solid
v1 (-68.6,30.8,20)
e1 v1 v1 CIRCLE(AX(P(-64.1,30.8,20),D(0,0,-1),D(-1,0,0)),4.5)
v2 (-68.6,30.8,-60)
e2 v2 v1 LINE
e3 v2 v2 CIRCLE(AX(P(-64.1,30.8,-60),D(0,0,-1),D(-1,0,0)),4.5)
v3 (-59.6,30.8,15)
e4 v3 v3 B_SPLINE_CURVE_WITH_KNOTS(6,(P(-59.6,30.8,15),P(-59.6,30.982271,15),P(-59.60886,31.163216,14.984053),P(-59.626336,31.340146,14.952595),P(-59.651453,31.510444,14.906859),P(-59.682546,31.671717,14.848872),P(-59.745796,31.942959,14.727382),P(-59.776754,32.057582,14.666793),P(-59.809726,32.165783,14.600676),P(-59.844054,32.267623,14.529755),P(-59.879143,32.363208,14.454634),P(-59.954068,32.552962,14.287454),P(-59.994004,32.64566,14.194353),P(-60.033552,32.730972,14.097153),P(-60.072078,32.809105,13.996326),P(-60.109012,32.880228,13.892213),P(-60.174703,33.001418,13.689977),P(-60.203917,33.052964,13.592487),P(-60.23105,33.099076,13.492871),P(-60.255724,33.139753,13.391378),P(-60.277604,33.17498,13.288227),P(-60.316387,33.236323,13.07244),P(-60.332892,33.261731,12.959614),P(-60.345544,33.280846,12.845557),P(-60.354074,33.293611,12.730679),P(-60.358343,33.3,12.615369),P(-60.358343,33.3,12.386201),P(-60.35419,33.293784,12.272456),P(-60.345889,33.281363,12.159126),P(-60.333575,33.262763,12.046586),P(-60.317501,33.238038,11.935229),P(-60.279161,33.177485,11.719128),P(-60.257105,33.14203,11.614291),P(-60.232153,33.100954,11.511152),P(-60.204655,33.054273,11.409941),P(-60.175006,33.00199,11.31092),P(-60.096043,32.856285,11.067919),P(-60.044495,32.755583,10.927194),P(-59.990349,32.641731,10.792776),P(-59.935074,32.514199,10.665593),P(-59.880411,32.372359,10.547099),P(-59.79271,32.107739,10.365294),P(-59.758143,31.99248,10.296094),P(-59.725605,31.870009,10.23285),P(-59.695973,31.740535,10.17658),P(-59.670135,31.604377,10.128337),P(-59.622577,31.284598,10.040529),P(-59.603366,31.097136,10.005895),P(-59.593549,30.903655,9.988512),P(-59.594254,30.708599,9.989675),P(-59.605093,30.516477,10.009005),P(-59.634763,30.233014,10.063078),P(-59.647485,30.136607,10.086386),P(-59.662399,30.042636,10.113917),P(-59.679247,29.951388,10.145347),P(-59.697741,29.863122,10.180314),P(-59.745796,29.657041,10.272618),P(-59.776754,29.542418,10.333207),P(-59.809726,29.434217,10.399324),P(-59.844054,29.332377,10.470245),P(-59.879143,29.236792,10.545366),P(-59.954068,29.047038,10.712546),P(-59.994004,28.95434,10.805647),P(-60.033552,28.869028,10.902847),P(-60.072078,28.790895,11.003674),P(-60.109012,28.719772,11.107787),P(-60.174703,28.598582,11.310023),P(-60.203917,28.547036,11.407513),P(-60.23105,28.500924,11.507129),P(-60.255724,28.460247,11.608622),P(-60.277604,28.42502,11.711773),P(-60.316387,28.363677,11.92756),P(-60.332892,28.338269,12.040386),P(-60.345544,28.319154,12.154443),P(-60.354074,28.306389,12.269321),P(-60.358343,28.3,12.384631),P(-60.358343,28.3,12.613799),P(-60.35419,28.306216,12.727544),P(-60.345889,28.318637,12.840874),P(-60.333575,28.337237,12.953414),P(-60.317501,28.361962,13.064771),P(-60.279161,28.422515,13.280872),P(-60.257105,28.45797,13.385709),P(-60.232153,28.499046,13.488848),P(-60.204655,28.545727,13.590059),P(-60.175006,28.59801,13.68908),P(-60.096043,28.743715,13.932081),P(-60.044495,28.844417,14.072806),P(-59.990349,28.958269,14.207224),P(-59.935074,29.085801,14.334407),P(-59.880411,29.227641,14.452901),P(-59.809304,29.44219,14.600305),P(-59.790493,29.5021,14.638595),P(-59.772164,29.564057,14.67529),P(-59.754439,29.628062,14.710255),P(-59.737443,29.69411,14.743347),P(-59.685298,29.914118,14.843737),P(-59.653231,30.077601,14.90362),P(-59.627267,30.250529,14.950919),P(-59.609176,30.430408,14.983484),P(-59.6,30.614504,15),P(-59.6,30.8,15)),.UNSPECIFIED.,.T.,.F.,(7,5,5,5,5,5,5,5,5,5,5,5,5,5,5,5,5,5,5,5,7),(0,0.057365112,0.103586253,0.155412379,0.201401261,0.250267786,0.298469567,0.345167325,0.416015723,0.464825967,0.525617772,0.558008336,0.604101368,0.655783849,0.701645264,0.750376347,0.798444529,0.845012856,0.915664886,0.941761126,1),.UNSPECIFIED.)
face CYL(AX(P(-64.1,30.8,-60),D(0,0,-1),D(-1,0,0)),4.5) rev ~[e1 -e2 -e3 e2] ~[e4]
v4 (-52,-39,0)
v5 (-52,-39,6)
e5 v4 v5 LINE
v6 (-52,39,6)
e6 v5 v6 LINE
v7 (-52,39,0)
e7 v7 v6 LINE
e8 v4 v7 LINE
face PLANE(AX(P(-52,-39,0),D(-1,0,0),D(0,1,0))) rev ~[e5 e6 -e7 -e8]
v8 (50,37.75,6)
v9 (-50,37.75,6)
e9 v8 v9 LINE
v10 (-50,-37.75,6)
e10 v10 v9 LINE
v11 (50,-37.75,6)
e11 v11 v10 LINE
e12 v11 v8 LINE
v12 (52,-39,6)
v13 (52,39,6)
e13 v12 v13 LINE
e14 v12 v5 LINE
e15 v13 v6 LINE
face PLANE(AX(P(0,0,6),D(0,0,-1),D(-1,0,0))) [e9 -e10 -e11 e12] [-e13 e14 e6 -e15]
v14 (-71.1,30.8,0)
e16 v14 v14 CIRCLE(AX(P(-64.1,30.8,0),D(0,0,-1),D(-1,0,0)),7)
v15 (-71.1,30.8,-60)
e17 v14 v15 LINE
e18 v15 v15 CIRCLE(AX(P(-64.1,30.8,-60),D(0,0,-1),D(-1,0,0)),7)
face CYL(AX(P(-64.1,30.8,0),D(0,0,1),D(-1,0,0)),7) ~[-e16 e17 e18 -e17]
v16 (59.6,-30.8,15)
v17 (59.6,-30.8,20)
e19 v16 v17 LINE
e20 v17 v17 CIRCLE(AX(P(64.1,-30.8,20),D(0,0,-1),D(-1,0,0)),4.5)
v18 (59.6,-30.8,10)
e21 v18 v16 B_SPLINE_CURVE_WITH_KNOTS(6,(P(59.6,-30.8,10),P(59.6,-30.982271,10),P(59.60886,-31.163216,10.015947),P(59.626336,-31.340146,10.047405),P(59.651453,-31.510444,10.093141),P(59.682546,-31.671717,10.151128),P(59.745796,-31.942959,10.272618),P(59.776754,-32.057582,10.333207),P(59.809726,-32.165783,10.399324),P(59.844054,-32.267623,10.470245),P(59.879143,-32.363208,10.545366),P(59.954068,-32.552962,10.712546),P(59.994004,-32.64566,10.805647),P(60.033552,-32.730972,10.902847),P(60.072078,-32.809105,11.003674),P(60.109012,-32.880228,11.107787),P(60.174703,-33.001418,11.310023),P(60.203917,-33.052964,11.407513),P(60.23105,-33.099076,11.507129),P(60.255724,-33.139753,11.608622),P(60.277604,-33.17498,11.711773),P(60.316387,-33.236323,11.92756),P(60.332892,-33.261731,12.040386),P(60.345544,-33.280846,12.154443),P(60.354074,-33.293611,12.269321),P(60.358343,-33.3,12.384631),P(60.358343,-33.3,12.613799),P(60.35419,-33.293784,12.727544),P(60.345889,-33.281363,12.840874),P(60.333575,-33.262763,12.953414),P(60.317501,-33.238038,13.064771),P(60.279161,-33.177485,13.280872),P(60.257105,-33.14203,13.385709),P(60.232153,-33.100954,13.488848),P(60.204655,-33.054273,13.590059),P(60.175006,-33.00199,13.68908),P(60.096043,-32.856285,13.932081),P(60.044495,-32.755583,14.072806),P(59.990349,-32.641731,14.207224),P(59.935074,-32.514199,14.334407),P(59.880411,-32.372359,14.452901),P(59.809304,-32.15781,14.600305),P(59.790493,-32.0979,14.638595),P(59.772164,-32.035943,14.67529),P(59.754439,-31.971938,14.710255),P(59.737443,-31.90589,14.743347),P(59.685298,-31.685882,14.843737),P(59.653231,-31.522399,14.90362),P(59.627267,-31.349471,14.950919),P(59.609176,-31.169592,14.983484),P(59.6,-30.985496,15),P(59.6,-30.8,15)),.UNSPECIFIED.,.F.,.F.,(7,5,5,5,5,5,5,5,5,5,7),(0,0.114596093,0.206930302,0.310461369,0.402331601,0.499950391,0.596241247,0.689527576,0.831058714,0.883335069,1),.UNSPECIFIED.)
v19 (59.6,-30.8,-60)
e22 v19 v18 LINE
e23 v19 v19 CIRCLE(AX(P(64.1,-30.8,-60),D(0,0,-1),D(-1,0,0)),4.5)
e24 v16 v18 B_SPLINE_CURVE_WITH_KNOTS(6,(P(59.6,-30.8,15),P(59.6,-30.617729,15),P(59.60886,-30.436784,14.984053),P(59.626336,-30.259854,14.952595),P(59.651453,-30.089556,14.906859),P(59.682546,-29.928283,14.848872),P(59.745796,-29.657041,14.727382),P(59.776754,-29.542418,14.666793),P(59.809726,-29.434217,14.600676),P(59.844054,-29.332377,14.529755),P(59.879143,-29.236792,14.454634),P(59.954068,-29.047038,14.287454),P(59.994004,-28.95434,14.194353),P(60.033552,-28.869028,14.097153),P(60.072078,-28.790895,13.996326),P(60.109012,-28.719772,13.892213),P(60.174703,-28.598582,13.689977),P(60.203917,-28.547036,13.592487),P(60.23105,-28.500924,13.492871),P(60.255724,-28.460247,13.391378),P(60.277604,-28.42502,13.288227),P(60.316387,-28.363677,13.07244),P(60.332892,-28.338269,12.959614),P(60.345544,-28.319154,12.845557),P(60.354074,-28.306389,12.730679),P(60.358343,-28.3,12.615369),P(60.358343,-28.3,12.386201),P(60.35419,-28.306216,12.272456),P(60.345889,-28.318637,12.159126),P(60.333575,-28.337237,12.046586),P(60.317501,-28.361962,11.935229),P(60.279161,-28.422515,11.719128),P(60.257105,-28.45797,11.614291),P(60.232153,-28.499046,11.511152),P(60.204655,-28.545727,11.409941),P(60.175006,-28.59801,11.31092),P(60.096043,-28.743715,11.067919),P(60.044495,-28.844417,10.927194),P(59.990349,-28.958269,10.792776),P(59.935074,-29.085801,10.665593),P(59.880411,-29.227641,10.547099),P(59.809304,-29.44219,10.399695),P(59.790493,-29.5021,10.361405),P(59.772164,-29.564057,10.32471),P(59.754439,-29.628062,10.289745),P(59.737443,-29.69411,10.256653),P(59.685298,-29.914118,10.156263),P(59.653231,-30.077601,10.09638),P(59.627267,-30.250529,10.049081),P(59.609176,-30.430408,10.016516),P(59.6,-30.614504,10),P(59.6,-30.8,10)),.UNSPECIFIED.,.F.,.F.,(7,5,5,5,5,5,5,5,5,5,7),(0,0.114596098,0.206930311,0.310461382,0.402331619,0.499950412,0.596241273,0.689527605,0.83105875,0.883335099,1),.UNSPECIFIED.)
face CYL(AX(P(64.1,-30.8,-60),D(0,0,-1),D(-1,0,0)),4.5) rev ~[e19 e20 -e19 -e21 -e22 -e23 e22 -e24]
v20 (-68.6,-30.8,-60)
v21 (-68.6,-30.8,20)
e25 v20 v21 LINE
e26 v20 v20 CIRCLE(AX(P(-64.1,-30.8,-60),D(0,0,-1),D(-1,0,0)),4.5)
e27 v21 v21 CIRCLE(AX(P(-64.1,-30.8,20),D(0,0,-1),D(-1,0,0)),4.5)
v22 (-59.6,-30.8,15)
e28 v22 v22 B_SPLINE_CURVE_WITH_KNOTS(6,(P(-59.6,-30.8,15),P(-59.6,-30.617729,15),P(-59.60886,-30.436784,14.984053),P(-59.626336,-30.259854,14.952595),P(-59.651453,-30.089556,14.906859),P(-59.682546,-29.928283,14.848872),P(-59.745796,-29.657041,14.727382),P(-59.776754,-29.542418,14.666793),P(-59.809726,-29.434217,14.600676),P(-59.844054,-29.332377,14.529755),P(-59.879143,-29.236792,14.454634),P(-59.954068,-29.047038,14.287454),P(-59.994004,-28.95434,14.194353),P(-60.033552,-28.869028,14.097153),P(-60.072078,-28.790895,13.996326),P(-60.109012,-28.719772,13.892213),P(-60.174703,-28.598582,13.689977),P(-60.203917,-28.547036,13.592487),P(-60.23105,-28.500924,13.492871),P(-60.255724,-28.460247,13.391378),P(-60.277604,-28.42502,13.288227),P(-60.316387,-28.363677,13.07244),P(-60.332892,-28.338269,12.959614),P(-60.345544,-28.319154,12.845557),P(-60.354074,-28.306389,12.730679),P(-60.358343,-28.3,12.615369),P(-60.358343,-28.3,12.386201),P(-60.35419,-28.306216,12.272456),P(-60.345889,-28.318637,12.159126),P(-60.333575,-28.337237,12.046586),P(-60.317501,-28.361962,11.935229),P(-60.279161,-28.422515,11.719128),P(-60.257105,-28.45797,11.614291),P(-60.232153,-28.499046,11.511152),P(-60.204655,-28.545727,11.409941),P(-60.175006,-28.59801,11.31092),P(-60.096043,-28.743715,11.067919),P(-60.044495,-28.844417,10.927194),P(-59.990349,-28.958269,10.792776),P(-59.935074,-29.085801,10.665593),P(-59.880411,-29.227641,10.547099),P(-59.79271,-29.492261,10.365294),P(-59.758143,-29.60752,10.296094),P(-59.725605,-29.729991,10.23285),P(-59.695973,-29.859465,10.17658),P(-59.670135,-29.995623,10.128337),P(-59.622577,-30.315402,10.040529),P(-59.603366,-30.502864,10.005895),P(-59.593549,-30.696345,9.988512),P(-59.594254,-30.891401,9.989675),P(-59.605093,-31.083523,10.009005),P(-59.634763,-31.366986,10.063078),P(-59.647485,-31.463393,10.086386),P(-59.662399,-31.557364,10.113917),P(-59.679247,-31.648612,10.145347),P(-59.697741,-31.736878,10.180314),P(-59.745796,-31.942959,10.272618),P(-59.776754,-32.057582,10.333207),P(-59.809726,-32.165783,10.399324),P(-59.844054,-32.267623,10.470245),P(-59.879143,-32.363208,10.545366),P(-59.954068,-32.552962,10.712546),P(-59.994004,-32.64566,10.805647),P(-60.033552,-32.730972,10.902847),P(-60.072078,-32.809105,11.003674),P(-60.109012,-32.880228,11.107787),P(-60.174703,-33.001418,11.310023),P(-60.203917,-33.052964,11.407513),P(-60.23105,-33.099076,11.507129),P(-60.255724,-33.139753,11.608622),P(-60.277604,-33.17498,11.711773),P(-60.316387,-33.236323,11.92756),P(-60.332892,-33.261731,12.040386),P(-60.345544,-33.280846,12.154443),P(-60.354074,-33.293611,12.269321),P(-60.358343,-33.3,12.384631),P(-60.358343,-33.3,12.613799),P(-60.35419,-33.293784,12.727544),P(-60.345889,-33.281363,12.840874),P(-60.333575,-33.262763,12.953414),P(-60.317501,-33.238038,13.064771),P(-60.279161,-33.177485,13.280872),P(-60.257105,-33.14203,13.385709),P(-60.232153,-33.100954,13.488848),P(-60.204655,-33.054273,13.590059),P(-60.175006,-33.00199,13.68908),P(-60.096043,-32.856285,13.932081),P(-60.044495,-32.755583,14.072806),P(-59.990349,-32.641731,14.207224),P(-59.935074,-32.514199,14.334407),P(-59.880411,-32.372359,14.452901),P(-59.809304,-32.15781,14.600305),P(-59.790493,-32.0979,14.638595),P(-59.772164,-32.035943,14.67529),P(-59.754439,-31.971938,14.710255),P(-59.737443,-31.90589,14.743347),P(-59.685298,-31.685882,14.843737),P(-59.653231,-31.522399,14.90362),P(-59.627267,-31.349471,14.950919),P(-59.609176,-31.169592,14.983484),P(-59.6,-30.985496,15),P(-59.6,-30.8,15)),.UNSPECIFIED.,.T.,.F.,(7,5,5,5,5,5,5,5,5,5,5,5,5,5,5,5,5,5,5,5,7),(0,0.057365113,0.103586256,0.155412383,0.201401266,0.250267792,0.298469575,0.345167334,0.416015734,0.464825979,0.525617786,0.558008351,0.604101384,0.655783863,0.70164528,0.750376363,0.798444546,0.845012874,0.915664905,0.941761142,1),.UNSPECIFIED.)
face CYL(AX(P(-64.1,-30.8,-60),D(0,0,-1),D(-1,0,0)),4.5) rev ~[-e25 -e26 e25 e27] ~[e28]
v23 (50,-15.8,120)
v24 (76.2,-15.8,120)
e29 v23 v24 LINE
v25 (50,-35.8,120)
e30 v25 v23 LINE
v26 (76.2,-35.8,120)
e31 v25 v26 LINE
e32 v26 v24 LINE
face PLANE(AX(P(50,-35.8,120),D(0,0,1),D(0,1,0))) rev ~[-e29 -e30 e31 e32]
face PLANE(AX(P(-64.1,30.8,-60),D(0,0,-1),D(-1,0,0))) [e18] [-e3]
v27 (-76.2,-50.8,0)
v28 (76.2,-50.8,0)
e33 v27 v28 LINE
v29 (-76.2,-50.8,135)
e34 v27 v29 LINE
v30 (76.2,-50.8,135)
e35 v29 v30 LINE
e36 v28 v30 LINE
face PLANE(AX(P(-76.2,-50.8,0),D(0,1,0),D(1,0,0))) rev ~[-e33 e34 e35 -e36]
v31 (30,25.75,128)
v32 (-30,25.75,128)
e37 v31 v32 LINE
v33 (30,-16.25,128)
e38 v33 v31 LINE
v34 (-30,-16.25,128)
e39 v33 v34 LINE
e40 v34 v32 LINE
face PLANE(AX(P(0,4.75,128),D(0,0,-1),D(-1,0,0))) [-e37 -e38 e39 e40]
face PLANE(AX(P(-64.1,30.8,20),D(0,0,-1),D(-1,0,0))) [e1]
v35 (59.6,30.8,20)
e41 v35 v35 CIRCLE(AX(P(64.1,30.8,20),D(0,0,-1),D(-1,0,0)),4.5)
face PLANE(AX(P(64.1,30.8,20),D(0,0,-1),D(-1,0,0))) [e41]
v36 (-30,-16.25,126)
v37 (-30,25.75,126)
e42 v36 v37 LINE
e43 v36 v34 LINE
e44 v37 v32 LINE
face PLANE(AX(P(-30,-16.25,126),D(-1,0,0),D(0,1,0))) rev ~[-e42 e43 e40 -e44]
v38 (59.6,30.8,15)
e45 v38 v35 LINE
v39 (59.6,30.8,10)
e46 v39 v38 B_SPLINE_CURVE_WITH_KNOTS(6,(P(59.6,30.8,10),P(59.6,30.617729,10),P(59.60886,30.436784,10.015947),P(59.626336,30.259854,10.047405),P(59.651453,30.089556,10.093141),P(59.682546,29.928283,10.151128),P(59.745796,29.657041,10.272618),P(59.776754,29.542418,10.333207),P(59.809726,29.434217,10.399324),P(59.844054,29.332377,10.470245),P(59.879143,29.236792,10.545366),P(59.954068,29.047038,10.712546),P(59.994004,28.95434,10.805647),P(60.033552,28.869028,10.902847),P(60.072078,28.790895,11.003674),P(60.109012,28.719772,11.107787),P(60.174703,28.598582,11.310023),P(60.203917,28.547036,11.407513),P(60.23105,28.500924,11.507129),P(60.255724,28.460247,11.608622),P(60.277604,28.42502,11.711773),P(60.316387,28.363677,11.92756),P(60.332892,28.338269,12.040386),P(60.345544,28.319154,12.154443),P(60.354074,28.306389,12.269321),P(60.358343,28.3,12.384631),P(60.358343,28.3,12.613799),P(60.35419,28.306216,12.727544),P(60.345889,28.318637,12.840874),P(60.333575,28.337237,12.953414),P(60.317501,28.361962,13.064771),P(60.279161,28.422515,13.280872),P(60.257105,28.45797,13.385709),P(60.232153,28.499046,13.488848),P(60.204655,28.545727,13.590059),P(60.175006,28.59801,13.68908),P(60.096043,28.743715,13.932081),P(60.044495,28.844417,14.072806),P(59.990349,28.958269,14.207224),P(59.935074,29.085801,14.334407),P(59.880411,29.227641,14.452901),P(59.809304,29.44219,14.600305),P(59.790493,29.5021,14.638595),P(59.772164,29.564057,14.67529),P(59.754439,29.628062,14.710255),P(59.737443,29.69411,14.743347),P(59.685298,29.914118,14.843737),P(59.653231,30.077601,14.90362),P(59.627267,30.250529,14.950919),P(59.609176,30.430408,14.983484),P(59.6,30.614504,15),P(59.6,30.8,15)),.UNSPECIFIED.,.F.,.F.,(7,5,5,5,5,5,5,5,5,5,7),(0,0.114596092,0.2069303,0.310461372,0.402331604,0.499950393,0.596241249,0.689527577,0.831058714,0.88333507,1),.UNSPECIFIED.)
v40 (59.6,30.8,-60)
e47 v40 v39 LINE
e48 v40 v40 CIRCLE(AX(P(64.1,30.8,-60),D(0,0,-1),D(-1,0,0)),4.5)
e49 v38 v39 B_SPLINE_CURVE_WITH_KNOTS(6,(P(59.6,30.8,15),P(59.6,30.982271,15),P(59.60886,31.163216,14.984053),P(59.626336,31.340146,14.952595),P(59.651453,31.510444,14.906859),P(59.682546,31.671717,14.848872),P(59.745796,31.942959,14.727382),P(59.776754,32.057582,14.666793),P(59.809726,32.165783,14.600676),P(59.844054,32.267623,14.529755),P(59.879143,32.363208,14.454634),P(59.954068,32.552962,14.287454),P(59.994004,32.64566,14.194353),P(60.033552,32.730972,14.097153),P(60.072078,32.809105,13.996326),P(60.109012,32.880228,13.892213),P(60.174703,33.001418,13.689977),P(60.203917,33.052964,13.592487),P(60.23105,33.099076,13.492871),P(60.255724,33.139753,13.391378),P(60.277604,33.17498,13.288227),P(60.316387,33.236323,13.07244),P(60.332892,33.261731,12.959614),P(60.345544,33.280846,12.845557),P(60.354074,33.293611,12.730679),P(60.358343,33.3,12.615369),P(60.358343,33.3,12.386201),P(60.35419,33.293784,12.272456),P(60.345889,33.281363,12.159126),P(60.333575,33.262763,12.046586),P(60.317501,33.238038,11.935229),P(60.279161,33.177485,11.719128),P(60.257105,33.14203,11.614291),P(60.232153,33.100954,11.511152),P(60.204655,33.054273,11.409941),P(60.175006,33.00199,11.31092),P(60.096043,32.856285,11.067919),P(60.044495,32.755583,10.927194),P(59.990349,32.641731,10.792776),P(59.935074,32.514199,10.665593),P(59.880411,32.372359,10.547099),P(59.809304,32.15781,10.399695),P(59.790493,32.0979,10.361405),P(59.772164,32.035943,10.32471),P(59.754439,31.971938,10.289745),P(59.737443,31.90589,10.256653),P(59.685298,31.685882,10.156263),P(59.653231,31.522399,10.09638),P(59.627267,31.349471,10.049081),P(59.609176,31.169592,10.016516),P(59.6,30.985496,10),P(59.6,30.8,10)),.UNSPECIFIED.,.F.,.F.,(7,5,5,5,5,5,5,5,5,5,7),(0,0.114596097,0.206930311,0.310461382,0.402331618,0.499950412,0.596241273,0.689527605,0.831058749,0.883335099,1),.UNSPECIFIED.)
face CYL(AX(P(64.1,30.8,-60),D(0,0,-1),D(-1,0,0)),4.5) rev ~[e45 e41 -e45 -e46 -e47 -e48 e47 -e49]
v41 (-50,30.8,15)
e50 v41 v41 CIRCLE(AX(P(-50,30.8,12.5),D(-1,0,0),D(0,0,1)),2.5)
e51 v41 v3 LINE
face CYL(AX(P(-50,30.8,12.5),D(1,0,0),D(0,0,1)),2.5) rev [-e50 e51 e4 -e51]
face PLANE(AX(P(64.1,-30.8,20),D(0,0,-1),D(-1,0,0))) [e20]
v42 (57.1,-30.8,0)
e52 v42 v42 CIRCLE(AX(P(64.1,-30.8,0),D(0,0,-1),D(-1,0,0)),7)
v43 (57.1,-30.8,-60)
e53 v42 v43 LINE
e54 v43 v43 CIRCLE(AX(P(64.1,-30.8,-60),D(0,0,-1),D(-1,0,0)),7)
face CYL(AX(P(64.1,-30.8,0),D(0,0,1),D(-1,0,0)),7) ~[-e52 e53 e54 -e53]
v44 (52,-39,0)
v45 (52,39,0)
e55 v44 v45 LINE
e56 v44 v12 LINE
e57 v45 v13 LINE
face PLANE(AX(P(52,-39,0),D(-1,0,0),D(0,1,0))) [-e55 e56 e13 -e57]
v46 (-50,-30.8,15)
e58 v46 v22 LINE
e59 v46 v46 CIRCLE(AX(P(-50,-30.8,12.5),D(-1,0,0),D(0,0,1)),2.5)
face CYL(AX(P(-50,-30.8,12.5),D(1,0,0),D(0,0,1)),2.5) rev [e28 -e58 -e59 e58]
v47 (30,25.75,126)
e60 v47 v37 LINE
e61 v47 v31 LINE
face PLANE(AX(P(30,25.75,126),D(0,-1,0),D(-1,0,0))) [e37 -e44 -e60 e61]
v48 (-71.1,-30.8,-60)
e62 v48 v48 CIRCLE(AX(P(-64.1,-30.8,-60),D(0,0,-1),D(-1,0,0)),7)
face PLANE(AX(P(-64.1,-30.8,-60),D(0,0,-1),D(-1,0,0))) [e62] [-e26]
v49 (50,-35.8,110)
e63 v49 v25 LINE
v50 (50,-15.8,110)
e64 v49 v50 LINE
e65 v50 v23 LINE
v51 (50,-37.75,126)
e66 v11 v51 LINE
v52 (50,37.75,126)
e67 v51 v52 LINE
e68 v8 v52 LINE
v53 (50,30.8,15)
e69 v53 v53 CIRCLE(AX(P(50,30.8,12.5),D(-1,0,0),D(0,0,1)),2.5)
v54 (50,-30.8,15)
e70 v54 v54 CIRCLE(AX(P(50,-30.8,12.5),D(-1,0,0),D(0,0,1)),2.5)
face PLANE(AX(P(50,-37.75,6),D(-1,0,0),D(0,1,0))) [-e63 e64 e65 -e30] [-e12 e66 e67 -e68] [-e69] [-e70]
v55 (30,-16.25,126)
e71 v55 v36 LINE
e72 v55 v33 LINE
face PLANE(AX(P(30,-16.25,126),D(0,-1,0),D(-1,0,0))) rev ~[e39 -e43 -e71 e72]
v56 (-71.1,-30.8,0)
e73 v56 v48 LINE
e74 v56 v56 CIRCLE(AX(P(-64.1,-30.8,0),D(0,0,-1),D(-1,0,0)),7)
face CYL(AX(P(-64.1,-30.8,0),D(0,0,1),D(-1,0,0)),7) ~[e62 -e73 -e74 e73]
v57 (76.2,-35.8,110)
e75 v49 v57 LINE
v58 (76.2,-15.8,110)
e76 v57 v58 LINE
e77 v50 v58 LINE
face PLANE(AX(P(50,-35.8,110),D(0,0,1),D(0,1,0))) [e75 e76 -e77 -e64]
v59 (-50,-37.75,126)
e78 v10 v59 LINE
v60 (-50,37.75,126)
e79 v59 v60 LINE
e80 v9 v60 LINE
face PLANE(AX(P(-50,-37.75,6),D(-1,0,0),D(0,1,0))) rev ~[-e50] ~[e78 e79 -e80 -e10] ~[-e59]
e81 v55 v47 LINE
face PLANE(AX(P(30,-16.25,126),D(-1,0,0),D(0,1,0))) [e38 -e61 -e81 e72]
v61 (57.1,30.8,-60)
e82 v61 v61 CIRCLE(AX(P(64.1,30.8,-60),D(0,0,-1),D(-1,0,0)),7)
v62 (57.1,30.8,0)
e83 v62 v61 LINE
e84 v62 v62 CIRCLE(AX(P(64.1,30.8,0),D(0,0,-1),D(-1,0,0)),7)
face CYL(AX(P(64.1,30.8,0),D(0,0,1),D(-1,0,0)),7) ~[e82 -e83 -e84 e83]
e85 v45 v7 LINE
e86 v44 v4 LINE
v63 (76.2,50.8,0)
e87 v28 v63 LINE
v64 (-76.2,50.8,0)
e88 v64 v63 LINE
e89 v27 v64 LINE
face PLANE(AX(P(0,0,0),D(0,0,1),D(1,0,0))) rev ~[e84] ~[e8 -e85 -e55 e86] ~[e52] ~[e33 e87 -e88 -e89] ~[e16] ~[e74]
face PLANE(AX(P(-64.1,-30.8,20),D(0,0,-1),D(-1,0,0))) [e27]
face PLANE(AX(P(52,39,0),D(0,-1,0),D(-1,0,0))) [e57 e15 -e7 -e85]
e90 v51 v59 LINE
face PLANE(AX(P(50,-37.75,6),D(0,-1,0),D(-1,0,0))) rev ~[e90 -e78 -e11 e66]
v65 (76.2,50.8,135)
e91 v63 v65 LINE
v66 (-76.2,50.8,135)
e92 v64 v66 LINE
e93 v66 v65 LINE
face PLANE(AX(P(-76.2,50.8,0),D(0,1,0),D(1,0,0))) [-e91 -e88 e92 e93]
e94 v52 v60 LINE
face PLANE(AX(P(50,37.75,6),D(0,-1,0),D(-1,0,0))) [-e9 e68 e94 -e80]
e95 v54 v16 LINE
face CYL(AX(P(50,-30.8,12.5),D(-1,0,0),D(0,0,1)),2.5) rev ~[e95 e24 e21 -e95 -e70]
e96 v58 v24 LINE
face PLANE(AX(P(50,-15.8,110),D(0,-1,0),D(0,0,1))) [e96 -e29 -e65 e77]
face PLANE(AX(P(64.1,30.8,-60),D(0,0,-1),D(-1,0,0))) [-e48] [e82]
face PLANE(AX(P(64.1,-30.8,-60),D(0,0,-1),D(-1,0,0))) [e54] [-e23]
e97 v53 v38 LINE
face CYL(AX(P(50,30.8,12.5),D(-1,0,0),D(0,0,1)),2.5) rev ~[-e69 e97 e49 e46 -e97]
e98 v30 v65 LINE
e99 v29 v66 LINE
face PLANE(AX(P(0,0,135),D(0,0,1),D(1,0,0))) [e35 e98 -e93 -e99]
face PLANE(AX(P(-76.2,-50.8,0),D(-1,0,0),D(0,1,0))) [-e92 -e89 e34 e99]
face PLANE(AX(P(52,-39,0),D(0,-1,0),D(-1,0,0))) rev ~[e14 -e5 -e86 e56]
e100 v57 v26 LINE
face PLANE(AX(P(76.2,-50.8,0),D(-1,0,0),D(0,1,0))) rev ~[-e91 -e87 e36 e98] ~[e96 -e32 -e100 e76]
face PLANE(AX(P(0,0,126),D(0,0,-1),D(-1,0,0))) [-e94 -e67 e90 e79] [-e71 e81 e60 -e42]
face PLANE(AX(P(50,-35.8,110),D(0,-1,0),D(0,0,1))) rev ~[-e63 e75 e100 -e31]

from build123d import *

# Parameters (mm, degrees)
SKETCH1_W           = 152.4
SKETCH1_H           = 101.6
BOSS_EXTRUDE1_DEPTH = 135
SKETCH2_W           = 104
SKETCH2_H           = 78
CUT_EXTRUDE1_DEPTH  = 6
SKETCH4_R           = 7
BOSS_EXTRUDE3_DEPTH = 60
SKETCH5_R           = 4.5
CUT_EXTRUDE3_DEPTH  = 80
SKETCH12_W          = 100
SKETCH12_H          = 75.5
CUT_EXTRUDE7_DEPTH  = 120
SKETCH13_W          = 60
SKETCH13_H          = 42
CUT_EXTRUDE8_DEPTH  = 2
SKETCH24_R          = 2.5
CUT_EXTRUDE9_DEPTH  = 15
SKETCH26_W          = 10
SKETCH26_H          = 20
CUT_EXTRUDE10_DEPTH = 27.2


with BuildPart() as part:
    # Sketch1 → Boss-Extrude1 (new body)
    with BuildSketch(Plane.XY):
        Rectangle(SKETCH1_W, SKETCH1_H)
    extrude(amount=BOSS_EXTRUDE1_DEPTH)

    # Sketch2 → Cut-Extrude1 (cut)
    with BuildSketch(Plane(origin=(0, 0, 0), x_dir=(-1, 0, 0), z_dir=(0, 0, -1))):
        Rectangle(SKETCH2_W, SKETCH2_H)
    extrude(amount=-CUT_EXTRUDE1_DEPTH, mode=Mode.SUBTRACT)

    # Sketch4 → Boss-Extrude3 (add)
    with BuildSketch(Plane(origin=(0, 0, 0), x_dir=(-1, 0, 0), z_dir=(0, 0, -1))):
        with Locations((-64.1, -30.8)):
            Circle(SKETCH4_R)
        with Locations((-64.1, 30.8)):
            Circle(SKETCH4_R)
        with Locations((64.1, 30.8)):
            Circle(SKETCH4_R)
        with Locations((64.1, -30.8)):
            Circle(SKETCH4_R)
    extrude(amount=BOSS_EXTRUDE3_DEPTH)

    # Sketch5 → Cut-Extrude3 (cut)
    with BuildSketch(Plane(origin=(0, 0, -60), x_dir=(-1, 0, 0), z_dir=(0, 0, -1))):
        with Locations((-64.1, 30.8)):
            Circle(SKETCH5_R)
        with Locations((64.1, 30.8)):
            Circle(SKETCH5_R)
        with Locations((64.1, -30.8)):
            Circle(SKETCH5_R)
        with Locations((-64.1, -30.8)):
            Circle(SKETCH5_R)
    extrude(amount=-CUT_EXTRUDE3_DEPTH, mode=Mode.SUBTRACT)

    # Sketch12 → Cut-Extrude7 (cut)
    with BuildSketch(Plane(origin=(0, 0, 6), x_dir=(-1, 0, 0), z_dir=(0, 0, -1))):
        Rectangle(SKETCH12_W, SKETCH12_H)
    extrude(amount=-CUT_EXTRUDE7_DEPTH, mode=Mode.SUBTRACT)

    # Sketch13 → Cut-Extrude8 (cut)
    with BuildSketch(Plane(origin=(0, 0, 126), x_dir=(-1, 0, 0), z_dir=(0, 0, -1))):
        with Locations((0, 4.75)):
            Rectangle(SKETCH13_W, SKETCH13_H)
    extrude(amount=-CUT_EXTRUDE8_DEPTH, mode=Mode.SUBTRACT)

    # Sketch24 → Cut-Extrude9 (cut)
    with BuildSketch(Plane.ZY.offset(-50)):
        with Locations((12.5, 30.8)):
            Circle(SKETCH24_R)
        with Locations((12.5, -30.8)):
            Circle(SKETCH24_R)
    cut_extrude9 = extrude(amount=-CUT_EXTRUDE9_DEPTH, mode=Mode.SUBTRACT)

    # Mirror2: Cut-Extrude9 across plane
    add(cut_extrude9.mirror(Plane(origin=(0, 0, 0), x_dir=(0, 0, 1), z_dir=(1, 0, 0))), mode=Mode.SUBTRACT)

    # Sketch26 → Cut-Extrude10 (cut, through all)
    with BuildSketch(Plane.ZY.offset(-50)):
        with Locations((115, -25.8)):
            Rectangle(SKETCH26_W, SKETCH26_H)
    extrude(amount=-CUT_EXTRUDE10_DEPTH, mode=Mode.SUBTRACT)


solid = part.part
